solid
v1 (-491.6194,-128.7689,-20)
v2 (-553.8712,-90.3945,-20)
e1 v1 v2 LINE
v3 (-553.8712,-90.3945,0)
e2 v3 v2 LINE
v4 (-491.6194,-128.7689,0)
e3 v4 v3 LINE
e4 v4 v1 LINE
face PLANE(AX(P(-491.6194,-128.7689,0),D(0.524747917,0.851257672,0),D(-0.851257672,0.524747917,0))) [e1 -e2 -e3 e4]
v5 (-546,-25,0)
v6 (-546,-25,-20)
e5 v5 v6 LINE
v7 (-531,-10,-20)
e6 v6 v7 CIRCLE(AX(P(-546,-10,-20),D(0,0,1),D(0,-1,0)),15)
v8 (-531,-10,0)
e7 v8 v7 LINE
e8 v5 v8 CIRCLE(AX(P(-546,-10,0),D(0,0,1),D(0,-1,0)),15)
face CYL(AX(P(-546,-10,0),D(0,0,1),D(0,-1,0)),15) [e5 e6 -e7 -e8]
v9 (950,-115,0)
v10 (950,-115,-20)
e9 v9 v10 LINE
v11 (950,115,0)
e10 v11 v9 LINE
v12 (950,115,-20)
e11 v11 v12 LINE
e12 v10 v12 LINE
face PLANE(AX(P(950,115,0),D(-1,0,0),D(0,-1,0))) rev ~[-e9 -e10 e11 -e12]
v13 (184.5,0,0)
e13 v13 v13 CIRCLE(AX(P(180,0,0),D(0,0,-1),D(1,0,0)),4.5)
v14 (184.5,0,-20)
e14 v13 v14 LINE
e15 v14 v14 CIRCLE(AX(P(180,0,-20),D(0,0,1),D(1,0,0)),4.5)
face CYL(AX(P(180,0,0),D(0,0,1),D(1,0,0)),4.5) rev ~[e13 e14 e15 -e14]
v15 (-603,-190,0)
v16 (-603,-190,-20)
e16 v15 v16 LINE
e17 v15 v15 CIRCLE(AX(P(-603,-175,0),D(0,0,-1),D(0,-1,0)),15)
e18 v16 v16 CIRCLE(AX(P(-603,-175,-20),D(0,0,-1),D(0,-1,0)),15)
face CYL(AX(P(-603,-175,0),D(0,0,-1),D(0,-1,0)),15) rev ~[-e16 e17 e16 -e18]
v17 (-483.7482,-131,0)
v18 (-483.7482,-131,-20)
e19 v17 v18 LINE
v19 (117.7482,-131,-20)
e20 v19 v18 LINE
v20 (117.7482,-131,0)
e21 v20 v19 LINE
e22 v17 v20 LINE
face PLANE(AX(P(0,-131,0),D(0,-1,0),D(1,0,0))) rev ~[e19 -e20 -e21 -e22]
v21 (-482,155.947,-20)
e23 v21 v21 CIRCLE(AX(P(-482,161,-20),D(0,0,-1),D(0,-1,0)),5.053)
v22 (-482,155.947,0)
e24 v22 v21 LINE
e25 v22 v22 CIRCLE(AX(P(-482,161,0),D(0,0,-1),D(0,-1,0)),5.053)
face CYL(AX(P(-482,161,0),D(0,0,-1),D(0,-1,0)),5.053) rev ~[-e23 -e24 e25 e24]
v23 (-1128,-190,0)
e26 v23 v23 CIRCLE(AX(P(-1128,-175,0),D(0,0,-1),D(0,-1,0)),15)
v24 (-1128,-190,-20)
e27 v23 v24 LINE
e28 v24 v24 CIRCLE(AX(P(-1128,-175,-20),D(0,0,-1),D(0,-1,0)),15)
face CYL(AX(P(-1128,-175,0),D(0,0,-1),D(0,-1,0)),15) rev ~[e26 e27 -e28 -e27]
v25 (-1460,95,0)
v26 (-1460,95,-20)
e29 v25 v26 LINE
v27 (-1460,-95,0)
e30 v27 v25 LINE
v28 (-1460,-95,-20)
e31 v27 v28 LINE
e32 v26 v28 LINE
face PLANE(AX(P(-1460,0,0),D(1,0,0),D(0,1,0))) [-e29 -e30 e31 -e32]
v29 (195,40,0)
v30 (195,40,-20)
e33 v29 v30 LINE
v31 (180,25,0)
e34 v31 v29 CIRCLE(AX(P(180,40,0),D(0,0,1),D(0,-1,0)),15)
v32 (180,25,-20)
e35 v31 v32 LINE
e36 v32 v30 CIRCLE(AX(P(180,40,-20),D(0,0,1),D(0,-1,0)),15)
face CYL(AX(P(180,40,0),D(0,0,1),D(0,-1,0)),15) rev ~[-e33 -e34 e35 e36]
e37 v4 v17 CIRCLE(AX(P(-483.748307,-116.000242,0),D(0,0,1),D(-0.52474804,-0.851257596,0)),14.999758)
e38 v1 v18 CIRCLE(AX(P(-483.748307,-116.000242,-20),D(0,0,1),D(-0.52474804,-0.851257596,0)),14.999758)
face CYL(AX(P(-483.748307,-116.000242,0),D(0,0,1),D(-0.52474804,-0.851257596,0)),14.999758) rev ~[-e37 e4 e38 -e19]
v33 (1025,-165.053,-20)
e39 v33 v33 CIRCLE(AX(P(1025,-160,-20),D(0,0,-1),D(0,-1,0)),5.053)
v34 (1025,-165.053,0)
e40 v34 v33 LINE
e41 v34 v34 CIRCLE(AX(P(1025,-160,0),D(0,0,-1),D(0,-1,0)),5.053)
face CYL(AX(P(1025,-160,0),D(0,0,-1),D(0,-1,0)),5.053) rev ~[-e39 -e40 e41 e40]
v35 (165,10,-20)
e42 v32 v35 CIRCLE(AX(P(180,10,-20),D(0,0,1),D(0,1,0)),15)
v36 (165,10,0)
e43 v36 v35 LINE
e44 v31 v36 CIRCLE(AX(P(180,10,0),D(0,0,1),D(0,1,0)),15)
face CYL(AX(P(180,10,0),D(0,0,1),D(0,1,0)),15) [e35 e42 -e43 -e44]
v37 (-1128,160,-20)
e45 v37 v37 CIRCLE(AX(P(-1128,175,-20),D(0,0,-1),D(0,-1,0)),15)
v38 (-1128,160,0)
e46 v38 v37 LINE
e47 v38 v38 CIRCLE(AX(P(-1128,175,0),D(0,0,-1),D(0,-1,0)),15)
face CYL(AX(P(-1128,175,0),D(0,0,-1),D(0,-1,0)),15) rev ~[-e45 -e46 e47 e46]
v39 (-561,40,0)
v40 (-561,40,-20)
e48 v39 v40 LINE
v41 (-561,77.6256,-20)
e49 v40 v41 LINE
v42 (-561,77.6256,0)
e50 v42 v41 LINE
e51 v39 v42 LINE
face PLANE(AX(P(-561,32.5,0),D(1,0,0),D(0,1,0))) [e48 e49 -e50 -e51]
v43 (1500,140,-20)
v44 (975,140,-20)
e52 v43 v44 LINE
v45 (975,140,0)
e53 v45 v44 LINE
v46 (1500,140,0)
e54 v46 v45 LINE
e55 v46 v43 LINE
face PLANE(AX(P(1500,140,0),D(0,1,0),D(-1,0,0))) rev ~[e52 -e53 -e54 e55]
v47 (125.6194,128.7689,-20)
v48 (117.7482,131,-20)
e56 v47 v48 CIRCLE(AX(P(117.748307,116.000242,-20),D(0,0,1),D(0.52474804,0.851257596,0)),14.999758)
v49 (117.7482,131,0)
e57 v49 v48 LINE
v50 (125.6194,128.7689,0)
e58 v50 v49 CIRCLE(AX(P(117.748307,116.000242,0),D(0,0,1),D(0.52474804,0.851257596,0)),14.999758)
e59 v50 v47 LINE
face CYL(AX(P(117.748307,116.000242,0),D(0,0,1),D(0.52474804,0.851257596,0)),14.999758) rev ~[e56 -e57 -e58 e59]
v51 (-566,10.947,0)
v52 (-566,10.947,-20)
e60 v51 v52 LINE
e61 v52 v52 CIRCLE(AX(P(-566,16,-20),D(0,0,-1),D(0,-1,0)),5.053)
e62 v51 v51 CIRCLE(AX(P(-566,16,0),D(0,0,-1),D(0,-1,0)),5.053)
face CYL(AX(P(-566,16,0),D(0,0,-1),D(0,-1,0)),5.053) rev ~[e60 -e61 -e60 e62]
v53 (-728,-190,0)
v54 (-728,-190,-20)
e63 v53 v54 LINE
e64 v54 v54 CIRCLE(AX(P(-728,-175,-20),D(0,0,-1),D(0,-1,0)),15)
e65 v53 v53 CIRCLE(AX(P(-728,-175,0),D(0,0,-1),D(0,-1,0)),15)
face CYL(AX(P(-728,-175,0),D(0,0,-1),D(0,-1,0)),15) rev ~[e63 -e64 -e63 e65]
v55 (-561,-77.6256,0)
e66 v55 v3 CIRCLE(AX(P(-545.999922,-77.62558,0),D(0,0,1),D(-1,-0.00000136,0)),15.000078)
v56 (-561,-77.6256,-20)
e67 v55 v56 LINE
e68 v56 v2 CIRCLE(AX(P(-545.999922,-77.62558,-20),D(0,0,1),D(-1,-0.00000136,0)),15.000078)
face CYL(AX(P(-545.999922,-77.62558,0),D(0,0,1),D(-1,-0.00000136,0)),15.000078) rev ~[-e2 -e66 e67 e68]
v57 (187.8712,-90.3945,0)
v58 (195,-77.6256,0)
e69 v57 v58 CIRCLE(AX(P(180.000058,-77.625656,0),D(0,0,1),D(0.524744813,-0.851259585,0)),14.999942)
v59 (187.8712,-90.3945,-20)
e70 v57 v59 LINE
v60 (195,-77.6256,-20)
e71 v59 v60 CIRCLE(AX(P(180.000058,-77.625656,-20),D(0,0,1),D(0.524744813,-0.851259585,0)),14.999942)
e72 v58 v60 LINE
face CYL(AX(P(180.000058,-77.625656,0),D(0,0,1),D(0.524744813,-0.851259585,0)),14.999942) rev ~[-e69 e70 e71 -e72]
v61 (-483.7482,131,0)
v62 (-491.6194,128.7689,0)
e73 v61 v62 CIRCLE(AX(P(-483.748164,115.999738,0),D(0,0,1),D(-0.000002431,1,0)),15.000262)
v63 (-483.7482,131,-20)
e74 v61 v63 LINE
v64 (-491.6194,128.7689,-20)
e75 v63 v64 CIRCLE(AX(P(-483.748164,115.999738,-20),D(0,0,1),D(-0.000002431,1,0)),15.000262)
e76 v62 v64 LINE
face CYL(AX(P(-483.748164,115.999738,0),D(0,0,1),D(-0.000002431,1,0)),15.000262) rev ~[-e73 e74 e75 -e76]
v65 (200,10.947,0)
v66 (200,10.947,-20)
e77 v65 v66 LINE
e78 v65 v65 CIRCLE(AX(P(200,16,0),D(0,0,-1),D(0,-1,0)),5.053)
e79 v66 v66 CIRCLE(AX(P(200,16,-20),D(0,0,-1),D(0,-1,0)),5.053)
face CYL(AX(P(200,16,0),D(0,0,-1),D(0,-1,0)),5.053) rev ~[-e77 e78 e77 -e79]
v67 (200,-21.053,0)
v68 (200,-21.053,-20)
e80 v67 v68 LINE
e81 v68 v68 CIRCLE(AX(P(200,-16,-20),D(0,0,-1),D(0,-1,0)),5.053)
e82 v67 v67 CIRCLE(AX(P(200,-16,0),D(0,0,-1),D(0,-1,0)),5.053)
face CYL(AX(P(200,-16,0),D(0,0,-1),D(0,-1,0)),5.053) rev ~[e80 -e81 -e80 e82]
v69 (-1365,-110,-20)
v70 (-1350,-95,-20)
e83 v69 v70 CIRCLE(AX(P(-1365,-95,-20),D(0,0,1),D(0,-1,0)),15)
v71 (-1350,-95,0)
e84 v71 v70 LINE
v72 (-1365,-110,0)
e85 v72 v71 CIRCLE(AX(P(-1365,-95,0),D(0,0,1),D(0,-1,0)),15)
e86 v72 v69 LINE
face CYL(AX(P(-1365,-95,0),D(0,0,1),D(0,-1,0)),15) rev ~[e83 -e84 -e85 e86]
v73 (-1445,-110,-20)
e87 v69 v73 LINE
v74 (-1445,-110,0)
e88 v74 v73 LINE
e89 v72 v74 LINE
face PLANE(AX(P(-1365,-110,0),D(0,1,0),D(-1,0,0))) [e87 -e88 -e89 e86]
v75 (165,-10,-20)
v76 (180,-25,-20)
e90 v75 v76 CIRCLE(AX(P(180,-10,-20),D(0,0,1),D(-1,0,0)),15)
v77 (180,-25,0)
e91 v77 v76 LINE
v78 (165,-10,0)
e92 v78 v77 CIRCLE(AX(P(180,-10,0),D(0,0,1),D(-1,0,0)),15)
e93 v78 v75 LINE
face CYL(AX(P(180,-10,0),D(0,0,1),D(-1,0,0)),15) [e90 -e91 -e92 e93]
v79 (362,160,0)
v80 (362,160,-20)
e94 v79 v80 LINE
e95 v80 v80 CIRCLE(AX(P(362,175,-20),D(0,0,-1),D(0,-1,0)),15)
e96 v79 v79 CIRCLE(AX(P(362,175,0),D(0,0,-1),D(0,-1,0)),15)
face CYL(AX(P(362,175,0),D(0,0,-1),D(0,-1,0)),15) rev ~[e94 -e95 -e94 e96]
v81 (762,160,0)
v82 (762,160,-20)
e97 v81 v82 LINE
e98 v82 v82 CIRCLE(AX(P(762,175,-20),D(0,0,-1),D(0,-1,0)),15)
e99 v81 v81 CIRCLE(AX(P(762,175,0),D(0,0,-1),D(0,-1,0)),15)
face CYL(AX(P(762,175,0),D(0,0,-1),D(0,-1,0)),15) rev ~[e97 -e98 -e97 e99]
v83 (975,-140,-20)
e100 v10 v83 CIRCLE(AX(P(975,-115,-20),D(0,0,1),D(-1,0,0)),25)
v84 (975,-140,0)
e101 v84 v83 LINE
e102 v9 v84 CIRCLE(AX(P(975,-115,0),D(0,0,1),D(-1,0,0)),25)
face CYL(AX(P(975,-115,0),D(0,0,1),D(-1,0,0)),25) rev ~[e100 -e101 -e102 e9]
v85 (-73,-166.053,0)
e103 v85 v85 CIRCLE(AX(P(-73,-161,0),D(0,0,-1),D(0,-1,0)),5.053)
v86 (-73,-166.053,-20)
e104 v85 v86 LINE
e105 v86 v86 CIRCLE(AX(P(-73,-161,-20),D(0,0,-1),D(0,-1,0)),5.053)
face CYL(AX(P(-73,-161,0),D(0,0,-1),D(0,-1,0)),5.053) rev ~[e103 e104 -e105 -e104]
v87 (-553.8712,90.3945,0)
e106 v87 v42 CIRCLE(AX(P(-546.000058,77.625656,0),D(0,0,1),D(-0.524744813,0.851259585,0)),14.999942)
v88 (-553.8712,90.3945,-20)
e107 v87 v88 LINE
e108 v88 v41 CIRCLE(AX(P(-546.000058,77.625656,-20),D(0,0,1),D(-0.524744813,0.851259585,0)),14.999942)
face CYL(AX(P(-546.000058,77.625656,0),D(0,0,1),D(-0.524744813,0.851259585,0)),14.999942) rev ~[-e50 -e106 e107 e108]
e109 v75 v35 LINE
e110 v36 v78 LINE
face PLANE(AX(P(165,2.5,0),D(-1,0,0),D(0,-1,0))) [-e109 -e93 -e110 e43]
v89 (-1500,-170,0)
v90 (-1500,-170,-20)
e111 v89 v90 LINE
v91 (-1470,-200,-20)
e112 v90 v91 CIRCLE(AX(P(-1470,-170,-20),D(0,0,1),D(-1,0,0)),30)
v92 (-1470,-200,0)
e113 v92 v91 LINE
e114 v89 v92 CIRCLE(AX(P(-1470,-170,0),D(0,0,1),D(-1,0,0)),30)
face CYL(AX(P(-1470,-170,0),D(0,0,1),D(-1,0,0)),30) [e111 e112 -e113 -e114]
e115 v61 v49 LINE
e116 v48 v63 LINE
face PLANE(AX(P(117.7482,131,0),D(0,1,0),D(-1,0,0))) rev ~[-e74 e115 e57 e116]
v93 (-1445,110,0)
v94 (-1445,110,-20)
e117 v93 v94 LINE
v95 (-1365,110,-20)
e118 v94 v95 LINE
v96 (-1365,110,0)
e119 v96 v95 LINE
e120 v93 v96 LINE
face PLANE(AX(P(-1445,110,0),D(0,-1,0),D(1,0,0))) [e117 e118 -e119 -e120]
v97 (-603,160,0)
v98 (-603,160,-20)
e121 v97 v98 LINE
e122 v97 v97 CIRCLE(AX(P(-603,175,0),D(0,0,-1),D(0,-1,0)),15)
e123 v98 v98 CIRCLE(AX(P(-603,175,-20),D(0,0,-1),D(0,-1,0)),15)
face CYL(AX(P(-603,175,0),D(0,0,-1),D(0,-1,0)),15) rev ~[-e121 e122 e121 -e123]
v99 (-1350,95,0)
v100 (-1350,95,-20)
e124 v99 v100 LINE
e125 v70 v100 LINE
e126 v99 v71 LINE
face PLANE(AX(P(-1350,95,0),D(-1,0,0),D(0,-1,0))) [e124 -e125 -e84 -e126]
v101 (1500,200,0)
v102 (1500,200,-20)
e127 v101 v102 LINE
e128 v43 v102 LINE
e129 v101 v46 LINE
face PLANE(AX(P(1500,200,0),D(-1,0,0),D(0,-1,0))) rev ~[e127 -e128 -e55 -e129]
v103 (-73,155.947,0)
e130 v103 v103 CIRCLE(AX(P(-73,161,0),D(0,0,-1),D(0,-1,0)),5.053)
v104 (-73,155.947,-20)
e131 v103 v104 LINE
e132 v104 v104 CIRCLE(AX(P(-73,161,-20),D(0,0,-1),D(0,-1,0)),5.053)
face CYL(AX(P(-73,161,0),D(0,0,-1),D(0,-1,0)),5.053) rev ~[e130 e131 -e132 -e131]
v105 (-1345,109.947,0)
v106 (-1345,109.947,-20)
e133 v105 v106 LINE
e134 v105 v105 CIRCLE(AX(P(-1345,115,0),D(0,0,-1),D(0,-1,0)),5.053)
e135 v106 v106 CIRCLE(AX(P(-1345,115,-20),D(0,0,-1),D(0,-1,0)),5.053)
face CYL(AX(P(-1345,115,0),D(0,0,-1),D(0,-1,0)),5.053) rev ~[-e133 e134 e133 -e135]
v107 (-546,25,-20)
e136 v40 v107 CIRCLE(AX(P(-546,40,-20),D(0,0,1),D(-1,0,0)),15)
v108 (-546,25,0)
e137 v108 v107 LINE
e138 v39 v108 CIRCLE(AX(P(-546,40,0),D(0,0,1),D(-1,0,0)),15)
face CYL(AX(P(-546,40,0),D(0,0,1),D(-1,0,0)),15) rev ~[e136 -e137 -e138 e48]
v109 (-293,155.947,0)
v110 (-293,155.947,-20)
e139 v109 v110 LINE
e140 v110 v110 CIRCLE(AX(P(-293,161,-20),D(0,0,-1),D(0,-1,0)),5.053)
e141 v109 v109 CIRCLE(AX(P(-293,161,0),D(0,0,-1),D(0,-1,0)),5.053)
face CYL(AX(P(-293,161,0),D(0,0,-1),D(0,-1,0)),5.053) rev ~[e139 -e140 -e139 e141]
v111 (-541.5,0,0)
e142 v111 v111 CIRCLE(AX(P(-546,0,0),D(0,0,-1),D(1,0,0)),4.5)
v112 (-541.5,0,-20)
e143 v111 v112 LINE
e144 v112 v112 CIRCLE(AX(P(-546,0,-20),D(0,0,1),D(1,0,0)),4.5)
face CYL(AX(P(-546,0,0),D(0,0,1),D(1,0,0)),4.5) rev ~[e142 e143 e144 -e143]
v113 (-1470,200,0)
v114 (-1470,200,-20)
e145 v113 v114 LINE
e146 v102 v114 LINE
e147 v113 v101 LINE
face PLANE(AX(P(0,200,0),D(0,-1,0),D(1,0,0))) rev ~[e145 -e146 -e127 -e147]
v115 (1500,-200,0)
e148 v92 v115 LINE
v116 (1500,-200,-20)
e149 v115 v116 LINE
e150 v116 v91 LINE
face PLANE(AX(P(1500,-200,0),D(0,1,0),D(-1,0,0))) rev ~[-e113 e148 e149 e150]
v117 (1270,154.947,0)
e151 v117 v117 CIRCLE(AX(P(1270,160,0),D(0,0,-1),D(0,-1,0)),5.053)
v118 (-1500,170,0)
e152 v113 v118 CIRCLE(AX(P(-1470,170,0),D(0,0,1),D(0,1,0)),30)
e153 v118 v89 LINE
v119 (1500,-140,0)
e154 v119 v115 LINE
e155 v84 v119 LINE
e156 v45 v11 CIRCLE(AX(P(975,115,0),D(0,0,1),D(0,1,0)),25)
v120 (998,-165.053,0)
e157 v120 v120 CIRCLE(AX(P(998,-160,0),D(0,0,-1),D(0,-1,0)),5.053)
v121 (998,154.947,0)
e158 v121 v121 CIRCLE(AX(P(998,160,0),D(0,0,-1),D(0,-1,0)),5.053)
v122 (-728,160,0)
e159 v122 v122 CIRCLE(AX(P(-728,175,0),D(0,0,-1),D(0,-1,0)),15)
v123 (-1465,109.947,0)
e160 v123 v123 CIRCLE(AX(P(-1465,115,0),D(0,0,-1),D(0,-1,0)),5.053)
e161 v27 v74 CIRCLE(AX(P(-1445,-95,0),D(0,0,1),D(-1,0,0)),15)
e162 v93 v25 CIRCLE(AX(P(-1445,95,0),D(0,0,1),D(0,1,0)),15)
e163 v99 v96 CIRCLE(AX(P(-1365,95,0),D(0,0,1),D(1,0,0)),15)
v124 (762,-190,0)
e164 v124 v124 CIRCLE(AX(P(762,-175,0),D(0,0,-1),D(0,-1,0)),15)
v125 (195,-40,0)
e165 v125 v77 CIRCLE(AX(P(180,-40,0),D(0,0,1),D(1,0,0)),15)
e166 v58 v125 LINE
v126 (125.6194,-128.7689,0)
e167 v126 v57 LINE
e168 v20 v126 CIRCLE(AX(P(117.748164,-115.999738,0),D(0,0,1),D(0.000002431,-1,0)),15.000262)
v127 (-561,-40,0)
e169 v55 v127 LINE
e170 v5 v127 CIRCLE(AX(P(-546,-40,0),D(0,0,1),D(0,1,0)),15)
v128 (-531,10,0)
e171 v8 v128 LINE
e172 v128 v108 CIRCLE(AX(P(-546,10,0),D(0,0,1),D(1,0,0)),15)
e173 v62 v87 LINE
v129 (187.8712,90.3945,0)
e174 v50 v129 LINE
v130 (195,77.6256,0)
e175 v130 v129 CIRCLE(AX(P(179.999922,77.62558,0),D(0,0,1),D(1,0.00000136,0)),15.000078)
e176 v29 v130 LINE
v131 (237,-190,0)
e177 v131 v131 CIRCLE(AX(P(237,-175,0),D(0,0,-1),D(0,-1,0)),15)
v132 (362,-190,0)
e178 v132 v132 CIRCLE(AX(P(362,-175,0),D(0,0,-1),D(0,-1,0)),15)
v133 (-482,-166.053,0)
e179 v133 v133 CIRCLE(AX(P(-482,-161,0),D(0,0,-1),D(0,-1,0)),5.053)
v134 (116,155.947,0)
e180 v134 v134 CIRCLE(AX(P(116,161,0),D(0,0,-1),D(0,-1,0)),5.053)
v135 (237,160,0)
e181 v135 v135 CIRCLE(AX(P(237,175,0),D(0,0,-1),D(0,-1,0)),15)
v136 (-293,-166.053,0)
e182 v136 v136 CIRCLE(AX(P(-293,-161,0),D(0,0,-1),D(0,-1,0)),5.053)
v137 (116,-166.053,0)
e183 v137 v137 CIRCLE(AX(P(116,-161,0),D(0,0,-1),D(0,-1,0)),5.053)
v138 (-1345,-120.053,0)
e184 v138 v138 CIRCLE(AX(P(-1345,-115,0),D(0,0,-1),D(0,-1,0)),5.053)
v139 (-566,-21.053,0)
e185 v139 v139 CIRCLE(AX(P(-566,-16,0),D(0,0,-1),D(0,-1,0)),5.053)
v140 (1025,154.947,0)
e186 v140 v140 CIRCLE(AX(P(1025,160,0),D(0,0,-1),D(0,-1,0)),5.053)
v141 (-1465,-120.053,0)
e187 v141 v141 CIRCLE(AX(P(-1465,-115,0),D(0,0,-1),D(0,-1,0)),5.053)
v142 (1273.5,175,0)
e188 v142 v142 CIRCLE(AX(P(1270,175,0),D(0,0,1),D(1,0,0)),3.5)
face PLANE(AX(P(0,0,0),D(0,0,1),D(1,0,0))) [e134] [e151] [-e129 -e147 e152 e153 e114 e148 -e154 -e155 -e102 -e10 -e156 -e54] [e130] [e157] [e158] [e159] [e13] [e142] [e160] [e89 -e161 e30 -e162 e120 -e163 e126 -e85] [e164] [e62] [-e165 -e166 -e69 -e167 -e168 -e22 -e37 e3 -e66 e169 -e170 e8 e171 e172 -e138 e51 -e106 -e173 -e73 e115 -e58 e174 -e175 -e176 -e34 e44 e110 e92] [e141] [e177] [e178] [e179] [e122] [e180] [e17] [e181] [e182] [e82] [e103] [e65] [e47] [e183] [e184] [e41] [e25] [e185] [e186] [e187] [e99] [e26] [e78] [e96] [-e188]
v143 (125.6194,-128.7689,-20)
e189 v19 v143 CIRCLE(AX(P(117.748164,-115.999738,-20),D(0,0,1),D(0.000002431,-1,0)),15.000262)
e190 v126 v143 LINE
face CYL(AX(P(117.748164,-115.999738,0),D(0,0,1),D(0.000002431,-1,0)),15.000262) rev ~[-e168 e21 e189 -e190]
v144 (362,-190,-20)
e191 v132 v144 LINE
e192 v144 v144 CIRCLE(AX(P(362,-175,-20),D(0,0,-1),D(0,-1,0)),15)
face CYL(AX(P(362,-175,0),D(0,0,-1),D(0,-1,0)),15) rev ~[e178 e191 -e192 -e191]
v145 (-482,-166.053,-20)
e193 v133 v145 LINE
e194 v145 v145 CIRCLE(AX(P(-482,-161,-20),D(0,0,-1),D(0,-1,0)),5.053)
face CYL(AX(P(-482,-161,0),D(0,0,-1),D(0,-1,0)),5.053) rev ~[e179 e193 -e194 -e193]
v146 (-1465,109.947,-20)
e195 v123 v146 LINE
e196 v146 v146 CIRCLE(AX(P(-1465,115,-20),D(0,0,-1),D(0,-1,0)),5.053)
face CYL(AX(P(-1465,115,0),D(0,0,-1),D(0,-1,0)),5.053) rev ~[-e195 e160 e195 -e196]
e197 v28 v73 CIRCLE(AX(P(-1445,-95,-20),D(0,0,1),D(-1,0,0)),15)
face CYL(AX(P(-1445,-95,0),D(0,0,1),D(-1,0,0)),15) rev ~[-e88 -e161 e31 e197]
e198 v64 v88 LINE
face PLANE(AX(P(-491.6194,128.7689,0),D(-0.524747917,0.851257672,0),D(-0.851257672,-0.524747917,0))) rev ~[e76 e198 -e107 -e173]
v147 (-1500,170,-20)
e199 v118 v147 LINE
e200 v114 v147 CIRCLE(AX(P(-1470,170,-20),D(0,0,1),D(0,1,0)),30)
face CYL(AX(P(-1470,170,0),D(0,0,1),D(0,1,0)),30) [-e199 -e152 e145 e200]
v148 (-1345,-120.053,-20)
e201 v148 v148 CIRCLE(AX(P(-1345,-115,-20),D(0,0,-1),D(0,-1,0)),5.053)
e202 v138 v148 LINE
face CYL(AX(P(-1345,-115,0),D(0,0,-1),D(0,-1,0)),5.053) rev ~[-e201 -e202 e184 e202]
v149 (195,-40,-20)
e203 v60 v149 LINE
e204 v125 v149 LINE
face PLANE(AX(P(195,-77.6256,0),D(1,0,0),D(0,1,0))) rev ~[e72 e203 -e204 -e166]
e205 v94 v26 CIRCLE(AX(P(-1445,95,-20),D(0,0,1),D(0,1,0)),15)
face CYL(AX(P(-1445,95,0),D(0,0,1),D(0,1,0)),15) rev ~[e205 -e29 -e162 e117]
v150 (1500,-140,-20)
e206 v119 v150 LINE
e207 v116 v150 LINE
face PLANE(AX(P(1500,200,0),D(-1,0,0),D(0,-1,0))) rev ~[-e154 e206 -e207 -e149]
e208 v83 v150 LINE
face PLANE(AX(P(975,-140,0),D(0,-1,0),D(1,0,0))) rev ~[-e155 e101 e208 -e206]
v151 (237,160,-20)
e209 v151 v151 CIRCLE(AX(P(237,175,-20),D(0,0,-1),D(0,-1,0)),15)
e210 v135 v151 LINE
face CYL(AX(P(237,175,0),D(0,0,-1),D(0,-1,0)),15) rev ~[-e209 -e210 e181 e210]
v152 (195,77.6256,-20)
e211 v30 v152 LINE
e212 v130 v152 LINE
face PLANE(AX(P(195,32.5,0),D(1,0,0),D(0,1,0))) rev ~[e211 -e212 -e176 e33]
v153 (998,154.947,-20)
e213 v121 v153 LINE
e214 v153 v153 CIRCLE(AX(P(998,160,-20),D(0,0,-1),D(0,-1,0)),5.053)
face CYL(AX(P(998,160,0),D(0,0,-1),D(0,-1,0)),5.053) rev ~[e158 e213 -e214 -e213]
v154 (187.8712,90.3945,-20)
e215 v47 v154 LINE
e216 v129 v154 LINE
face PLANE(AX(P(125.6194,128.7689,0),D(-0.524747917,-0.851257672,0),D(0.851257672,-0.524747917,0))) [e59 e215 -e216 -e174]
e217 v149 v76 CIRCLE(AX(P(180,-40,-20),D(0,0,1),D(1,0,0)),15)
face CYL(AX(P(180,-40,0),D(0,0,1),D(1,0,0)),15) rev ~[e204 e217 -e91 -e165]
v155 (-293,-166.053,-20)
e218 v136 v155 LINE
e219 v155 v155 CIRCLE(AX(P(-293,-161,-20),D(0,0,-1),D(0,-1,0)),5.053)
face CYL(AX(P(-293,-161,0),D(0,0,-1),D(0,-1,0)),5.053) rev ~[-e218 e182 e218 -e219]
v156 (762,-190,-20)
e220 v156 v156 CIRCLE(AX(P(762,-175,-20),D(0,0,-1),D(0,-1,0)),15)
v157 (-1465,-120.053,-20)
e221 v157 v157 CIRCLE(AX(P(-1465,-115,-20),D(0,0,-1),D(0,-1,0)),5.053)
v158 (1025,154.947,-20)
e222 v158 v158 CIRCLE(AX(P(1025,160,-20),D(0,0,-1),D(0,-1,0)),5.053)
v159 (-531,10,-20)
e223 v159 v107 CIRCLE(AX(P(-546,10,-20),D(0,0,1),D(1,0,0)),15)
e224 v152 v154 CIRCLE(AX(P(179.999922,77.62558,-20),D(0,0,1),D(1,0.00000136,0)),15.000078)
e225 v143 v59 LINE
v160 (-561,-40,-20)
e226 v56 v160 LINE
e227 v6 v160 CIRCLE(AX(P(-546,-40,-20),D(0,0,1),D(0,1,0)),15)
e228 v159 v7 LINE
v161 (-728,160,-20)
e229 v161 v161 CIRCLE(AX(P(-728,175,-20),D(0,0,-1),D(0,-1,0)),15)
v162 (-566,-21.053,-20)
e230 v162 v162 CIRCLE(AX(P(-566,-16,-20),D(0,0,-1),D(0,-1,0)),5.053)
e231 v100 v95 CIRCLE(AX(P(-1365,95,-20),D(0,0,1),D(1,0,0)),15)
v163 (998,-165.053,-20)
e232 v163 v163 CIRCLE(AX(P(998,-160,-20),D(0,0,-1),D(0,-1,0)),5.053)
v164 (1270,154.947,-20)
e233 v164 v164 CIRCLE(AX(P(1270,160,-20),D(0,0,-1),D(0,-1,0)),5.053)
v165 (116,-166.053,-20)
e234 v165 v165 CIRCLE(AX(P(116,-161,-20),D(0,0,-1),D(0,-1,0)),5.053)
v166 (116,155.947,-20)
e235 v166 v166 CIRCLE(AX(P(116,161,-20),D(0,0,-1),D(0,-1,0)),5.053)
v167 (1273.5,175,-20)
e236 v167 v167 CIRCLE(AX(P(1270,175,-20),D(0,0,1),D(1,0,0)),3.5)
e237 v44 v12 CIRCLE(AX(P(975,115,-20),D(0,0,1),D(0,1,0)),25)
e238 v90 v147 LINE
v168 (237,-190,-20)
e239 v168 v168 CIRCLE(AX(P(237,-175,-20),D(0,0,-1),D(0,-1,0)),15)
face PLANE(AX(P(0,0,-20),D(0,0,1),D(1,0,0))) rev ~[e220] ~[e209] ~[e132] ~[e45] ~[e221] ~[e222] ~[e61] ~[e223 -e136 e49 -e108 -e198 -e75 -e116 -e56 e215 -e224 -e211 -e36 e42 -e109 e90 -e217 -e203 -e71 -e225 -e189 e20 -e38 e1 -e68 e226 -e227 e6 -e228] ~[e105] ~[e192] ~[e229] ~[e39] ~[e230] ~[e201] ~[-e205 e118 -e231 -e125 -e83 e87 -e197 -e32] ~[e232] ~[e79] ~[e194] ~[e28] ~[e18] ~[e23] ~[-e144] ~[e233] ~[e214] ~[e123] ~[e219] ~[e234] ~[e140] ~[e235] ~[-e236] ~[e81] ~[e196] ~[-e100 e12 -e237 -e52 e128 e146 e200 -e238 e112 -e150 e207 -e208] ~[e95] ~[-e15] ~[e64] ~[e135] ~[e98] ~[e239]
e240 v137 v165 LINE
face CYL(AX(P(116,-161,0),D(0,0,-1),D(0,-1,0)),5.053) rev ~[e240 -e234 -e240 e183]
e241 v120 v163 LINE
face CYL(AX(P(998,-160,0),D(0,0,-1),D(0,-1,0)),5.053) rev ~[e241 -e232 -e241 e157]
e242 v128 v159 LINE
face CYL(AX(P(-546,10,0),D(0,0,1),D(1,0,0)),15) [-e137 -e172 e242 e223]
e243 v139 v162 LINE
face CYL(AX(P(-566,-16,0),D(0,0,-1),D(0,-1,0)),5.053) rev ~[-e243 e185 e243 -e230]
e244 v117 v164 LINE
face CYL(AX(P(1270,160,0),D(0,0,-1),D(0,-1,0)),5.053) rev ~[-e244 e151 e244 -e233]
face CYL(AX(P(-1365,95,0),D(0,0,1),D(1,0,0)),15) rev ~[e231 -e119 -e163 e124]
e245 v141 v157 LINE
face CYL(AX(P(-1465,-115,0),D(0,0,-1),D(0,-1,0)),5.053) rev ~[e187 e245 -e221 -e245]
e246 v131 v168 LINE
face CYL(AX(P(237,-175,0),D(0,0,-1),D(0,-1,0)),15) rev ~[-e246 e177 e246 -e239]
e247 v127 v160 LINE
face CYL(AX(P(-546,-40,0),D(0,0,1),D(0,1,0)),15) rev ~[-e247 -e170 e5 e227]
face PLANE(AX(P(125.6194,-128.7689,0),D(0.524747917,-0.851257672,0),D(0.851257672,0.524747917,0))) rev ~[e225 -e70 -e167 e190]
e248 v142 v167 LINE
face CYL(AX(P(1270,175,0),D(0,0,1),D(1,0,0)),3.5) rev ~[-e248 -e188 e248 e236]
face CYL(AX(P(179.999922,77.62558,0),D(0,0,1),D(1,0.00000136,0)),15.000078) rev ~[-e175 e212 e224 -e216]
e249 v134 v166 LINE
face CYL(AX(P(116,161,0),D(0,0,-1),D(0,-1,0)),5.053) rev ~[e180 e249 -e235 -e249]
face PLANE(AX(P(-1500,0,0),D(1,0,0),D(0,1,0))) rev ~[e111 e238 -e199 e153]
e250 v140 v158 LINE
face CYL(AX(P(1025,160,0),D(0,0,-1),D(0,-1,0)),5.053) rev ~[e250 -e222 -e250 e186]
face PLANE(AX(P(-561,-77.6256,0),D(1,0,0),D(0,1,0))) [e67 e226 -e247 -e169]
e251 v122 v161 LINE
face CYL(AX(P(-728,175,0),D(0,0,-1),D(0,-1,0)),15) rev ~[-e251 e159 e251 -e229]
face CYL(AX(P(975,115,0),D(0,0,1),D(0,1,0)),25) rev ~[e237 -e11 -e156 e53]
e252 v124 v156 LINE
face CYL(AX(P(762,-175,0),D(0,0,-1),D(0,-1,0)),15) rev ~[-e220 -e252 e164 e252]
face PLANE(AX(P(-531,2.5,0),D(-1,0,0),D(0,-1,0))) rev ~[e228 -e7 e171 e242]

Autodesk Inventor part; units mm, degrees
ref_plane "YZ Plane" through (0, 0, 0) normal (1, 0, 0) x (0, 1, 0)
ref_plane "XZ Plane" through (0, 0, 0) normal (0, 1, 0) x (-1, 0, 0)
ref_plane "XY Plane" through (0, 0, 0) normal (0, 0, 1) x (1, 0, 0)
sketch "Sketch1" plane through (0, 0, 0) normal (0, 0, 1) x (1, 0, 0)
  line L0 (0, 288.6985) -> (0, -288.6985) projected
  line L1 (-2107.4558, 0) -> (2101.2426, 0) projected
  line L2 (-1470, 200) -> (1500, 200)
  line L3 (1500, 200) -> (1500, -200)
  line L4 (1500, -200) -> (-1470, -200)
  line L5 (-1500, -170) -> (-1500, 170)
  arc A0 (-1470, 200) -> (-1500, 170) centre (-1470, 170) ccw
  arc A1 (-1500, -170) -> (-1470, -200) centre (-1470, -170) ccw
  line L6 (-1445, 110) -> (-1365, 110)
  line L7 (-1350, 95) -> (-1350, -95)
  line L8 (-1365, -110) -> (-1445, -110)
  line L9 (-1460, -95) -> (-1460, 95)
  arc A2 (-1445, 110) -> (-1460, 95) centre (-1445, 95) ccw
  arc A3 (-1350, 95) -> (-1365, 110) centre (-1365, 95) ccw
  arc A4 (-1365, -110) -> (-1350, -95) centre (-1365, -95) ccw
  arc A5 (-1460, -95) -> (-1445, -110) centre (-1445, -95) ccw
  point P0 (0, 0)
  point P1 (-1500, 200)
  point P2 (-1500, -200)
  point P3 (-1465, 115)
  point P4 (-1345, 115)
  point P5 (-1345, -115)
  point P6 (-1465, -115)
  dimension "d0" = 400
  dimension "d1" = 3000
  dimension "d2" = 30
  dimension "d3" = 110
  dimension "d4" = 220
  dimension "d5" = 15
  dimension "d8" = 230
  dimension "d9" = 120
  dimension "d10" = 5
  dimension "d11" = 5
  dimension "d12" = 40
extrude "Extrusion1" add sketch "Sketch1" against normal blind 20 contours L2 L3 L1 L0 | L0 L1 L7 A3 L6 A2 L9 L5 A0 L2 | L1 L3 L4 L0 | L0 L4 A1 L5 L1 L9 A5 L8 A4 L7
hole "Hole1" at (-1465, 115, 0) at (-1345, 115, 0) at (-1345, -115, 0) at (-1465, -115, 0) direction (0, 0, -1) diameter 10.106 end through all thread size "M12x1.75" class "6H" standard "ISO Metric profile"
sketch "Sketch2" plane through (0, 0, 0) normal (0, 0, 1) x (1, 0, 0)
  circle A0 centre (-1345, -115) radius 5.053 projected
  circle A1 centre (-1465, 115) radius 5.053 projected
  circle A2 centre (-1345, 115) radius 5.053 projected
  circle A3 centre (-1465, -115) radius 5.053 projected
  line L0 (-1500, 170) -> (-1500, -170) projected
  arc A4 (-1500, -170) -> (-1470, -200) centre (-1470, -170) ccw projected
  line L1 (-1470, -200) -> (1500, -200) projected
  line L2 (1500, -200) -> (1500, 200) projected
  line L3 (1500, 200) -> (-1470, 200) projected
  arc A5 (-1470, 200) -> (-1500, 170) centre (-1470, 170) ccw projected
  arc A6 (-1460, -95) -> (-1445, -110) centre (-1445, -95) ccw projected
  line L4 (-1460, -95) -> (-1460, 95) projected
  arc A7 (-1445, 110) -> (-1460, 95) centre (-1445, 95) ccw projected
  line L5 (-1445, 110) -> (-1365, 110) projected
  arc A8 (-1350, 95) -> (-1365, 110) centre (-1365, 95) ccw projected
  line L6 (-1350, 95) -> (-1350, -95) projected
  arc A9 (-1365, -110) -> (-1350, -95) centre (-1365, -95) ccw projected
  line L7 (-1365, -110) -> (-1445, -110) projected
  line L8 (1500, 140) -> (975, 140)
  line L9 (950, 115) -> (950, -115)
  line L10 (975, -140) -> (1500, -140)
  line L11 (1500, -140) -> (1500, 140)
  line L12 (0, 288.6985) -> (0, -288.6985) projected
  line L13 (-2107.4558, 0) -> (2101.2426, 0) projected
  arc A10 (975, 140) -> (950, 115) centre (975, 115) ccw
  arc A11 (950, -115) -> (975, -140) centre (975, -115) ccw
  circle A12 centre (1270, 175) radius 3.5
  point P0 (0, 0)
  point P1 (998, 160)
  point P2 (1025, 160)
  point P3 (998, -160)
  point P4 (1025, -160)
  point P5 (1270, 160)
  dimension "d22" = 550
  dimension "d23" = 280
  dimension "d24" = 25
  dimension "d25" = 7
  dimension "d26" = 230
  dimension "d27" = 320
  dimension "d28" = 27
  dimension "d29" = 475
  dimension "d30" = 230
  dimension "d31" = 15
extrude "Extrusion2" cut sketch "Sketch2" against normal blind 20 contours L2 L13 L9 A10 L8 | L13 L2 L10 A11 L9 | A12
hole "Hole2" at (998, 160, 0) at (1025, 160, 0) at (998, -160, 0) at (1025, -160, 0) at (1270, 160, 0) direction (0, 0, -1) diameter 10.106 end through all thread size "M12x1.75" class "6H" standard "ISO Metric profile"
sketch "Sketch3" plane through (0, 0, 0) normal (0, 0, 1) x (1, 0, 0)
  line L0 (0, 1076.2642) -> (0, -784.2642) projected
  line L1 (-2100, 0) -> (2100, 0) projected
  line L2 (1500, -200) -> (1500, -140) projected
  line L3 (-1470, -200) -> (1500, -200) projected
  arc A0 (-491.6194, -128.7689) -> (-483.7482, -131) centre (-483.7482, -116) ccw
  line L4 (-491.6194, 128.7689) -> (-553.8712, 90.3945)
  arc A1 (-483.7482, 131) -> (-491.6194, 128.7689) centre (-483.7482, 116) ccw
  line L5 (-483.7482, 131) -> (-183, 131)
  arc A2 (-531, 2.5) -> (-546, 17.5) centre (-546, 2.5) ccw
  line L6 (-561, 32.5) -> (-561, 77.6256)
  arc A3 (-546, -17.5) -> (-561, -32.5) centre (-546, -32.5) ccw
  arc A4 (-553.8712, 90.3945) -> (-561, 77.6256) centre (-546, 77.6256) ccw
  line L7 (-561, -77.6256) -> (-561, -32.5)
  line L8 (-491.6194, -128.7689) -> (-553.8712, -90.3945)
  line L9 (-546, 17.5) -> (-546, 17.5)
  arc A5 (-561, 32.5) -> (-546, 17.5) centre (-546, 32.5) ccw
  line L10 (-183, -131) -> (-483.7482, -131)
  line L11 (-531, 2.5) -> (-531, -2.5)
  line L12 (-546, -17.5) -> (-546, -17.5)
  arc A6 (-546, -17.5) -> (-531, -2.5) centre (-546, -2.5) ccw
  line L13 (180, -17.5) -> (180, -17.5)
  arc A7 (165, -2.5) -> (180, -17.5) centre (180, -2.5) ccw
  circle A8 centre (-546, 0) radius 4.5
  arc A9 (-561, -77.6256) -> (-553.8712, -90.3945) centre (-546, -77.6256) ccw
  line L14 (-183, -131) -> (117.7482, -131)
  line L15 (117.7482, 131) -> (-183, 131)
  arc A10 (117.7482, -131) -> (125.6194, -128.7689) centre (117.7482, -116) ccw
  arc A11 (125.6194, 128.7689) -> (117.7482, 131) centre (117.7482, 116) ccw
  line L16 (165, 2.5) -> (165, -2.5)
  line L17 (180, 17.5) -> (180, 17.5)
  arc A12 (180, 17.5) -> (165, 2.5) centre (180, 2.5) ccw
  circle A13 centre (180, 0) radius 4.5
  arc A14 (187.8712, -90.3945) -> (195, -77.6256) centre (180, -77.6256) ccw
  arc A15 (195, -32.5) -> (180, -17.5) centre (180, -32.5) ccw
  arc A16 (180, 17.5) -> (195, 32.5) centre (180, 32.5) ccw
  line L18 (125.6194, 128.7689) -> (187.8712, 90.3945)
  arc A17 (195, 77.6256) -> (187.8712, 90.3945) centre (180, 77.6256) ccw
  line L19 (195, -77.6256) -> (195, -32.5)
  line L20 (125.6194, -128.7689) -> (187.8712, -90.3945)
  line L21 (195, 32.5) -> (195, 77.6256)
  line L22 (-183, 131) -> (-183, -131)
  point P0 (-620.9638, -518.4744)
  point P1 (-488, 131)
  point P2 (-561, 86)
  point P3 (-488, -131)
  point P4 (-561, -86)
  point P5 (122, 131)
  point P6 (195, -86)
  point P7 (195, 86)
  point P8 (122, -131)
  point P9 (200, -16)
  point P10 (200, 16)
  point P11 (-566, -16)
  point P12 (-566, 16)
  point P13 (-293, 810.4744)
  point P14 (-482, 810.4744)
  point P15 (-293, 161)
  point P16 (-482, 161)
  point P17 (-293, -161)
  point P18 (-482, -161)
  point P19 (-73, 161)
  point P20 (116, 161)
  point P21 (116, -161)
  point P22 (-73, -161)
  dimension "d76" = 262
  dimension "d77" = 35
  dimension "d78" = 15
  dimension "d79" = 32
  dimension "d80" = 189
  dimension "d81" = 9
  dimension "d82" = 20
  dimension "d83" = 1305
  dimension "d86" = 756
  dimension "d87" = 195
  dimension "d88" = 183
  dimension "d89" = 110
  dimension "d90" = 189
  dimension "d91" = 161
extrude "Extrusion3" cut sketch "Sketch3" against normal blind 20
hole "Hole4" at (-482, 810.4744, 0) at (-293, 810.4744, 0) at (-566, 16, 0) at (-566, -16, 0) at (200, 16, 0) at (200, -16, 0) at (-293, 161, 0) at (-482, 161, 0) at (-482, -161, 0) at (-293, -161, 0) at (116, 161, 0) at (-73, 161, 0) at (116, -161, 0) at (-73, -161, 0) direction (0, 0, -1) diameter 10.106 end through all thread size "M12x1.75" class "6H" standard "ISO Metric profile"
sketch "Sketch4" plane through (0, 0, 0) normal (0, 0, 1) x (1, 0, 0)
  circle A0 centre (116, -161) radius 5.053 projected
  circle A1 centre (116, 161) radius 5.053 projected
  circle A2 centre (-482, -161) radius 5.053 projected
  circle A3 centre (-293, 161) radius 5.053 projected
  circle A4 centre (200, 16) radius 5.053 projected
  circle A5 centre (-566, 16) radius 5.053 projected
  circle A6 centre (-566, -16) radius 5.053 projected
  circle A7 centre (200, -16) radius 5.053 projected
  circle A8 centre (-482, 161) radius 5.053 projected
  circle A9 centre (-293, -161) radius 5.053 projected
  circle A10 centre (-73, 161) radius 5.053 projected
  circle A11 centre (-73, -161) radius 5.053 projected
  circle A12 centre (180, 0) radius 4.5 projected
  circle A13 centre (-546, 0) radius 4.5 projected
  arc A14 (-553.8712, 90.3945) -> (-561, 77.6256) centre (-546, 77.6256) ccw projected
  line L0 (-553.8712, 90.3945) -> (-491.6194, 128.7689) projected
  arc A15 (-483.7482, 131) -> (-491.6194, 128.7689) centre (-483.7482, 116) ccw projected
  line L1 (-483.7482, 131) -> (117.7482, 131) projected
  arc A16 (125.6194, 128.7689) -> (117.7482, 131) centre (117.7482, 116) ccw projected
  line L2 (125.6194, 128.7689) -> (187.8712, 90.3945) projected
  arc A17 (195, 77.6256) -> (187.8712, 90.3945) centre (180, 77.6256) ccw projected
  line L3 (195, 77.6256) -> (195, 32.5) projected
  arc A18 (180, 17.5) -> (195, 32.5) centre (180, 32.5) ccw projected
  arc A19 (180, 17.5) -> (165, 2.5) centre (180, 2.5) ccw projected
  line L4 (165, 2.5) -> (165, -2.5) projected
  arc A20 (165, -2.5) -> (180, -17.5) centre (180, -2.5) ccw projected
  arc A21 (195, -32.5) -> (180, -17.5) centre (180, -32.5) ccw projected
  line L5 (195, -32.5) -> (195, -77.6256) projected
  arc A22 (187.8712, -90.3945) -> (195, -77.6256) centre (180, -77.6256) ccw projected
  line L6 (187.8712, -90.3945) -> (125.6194, -128.7689) projected
  arc A23 (117.7482, -131) -> (125.6194, -128.7689) centre (117.7482, -116) ccw projected
  line L7 (117.7482, -131) -> (-483.7482, -131) projected
  arc A24 (-491.6194, -128.7689) -> (-483.7482, -131) centre (-483.7482, -116) ccw projected
  line L8 (-491.6194, -128.7689) -> (-553.8712, -90.3945) projected
  arc A25 (-561, -77.6256) -> (-553.8712, -90.3945) centre (-546, -77.6256) ccw projected
  line L9 (-561, -77.6256) -> (-561, -32.5) projected
  arc A26 (-546, -17.5) -> (-561, -32.5) centre (-546, -32.5) ccw projected
  arc A27 (-546, -17.5) -> (-531, -2.5) centre (-546, -2.5) ccw projected
  line L10 (-531, -2.5) -> (-531, 2.5) projected
  arc A28 (-531, 2.5) -> (-546, 17.5) centre (-546, 2.5) ccw projected
  arc A29 (-561, 32.5) -> (-546, 17.5) centre (-546, 32.5) ccw projected
  line L11 (-561, 32.5) -> (-561, 77.6256) projected
  circle A30 centre (1025, -160) radius 5.053 projected
  circle A31 centre (1025, 160) radius 5.053 projected
  circle A32 centre (998, 160) radius 5.053 projected
  circle A33 centre (998, -160) radius 5.053 projected
  circle A34 centre (1270, 160) radius 5.053 projected
  line L12 (975, 140) -> (1500, 140) projected
  line L13 (1500, 140) -> (1500, 200) projected
  line L14 (1500, 200) -> (-1470, 200) projected
  arc A35 (-1470, 200) -> (-1500, 170) centre (-1470, 170) ccw projected
  line L15 (-1500, 170) -> (-1500, -170) projected
  arc A36 (-1500, -170) -> (-1470, -200) centre (-1470, -170) ccw projected
  line L16 (-1470, -200) -> (1500, -200) projected
  line L17 (1500, -200) -> (1500, -140) projected
  line L18 (1500, -140) -> (975, -140) projected
  arc A37 (950, -115) -> (975, -140) centre (975, -115) ccw projected
  line L19 (950, -115) -> (950, 115) projected
  arc A38 (975, 140) -> (950, 115) centre (975, 115) ccw projected
  circle A39 centre (1270, 175) radius 3.5 projected
  circle A40 centre (-1345, -115) radius 5.053 projected
  circle A41 centre (-1465, 115) radius 5.053 projected
  circle A42 centre (-1345, 115) radius 5.053 projected
  circle A43 centre (-1465, -115) radius 5.053 projected
  arc A44 (-1460, -95) -> (-1445, -110) centre (-1445, -95) ccw projected
  line L20 (-1460, -95) -> (-1460, 95) projected
  arc A45 (-1445, 110) -> (-1460, 95) centre (-1445, 95) ccw projected
  line L21 (-1445, 110) -> (-1365, 110) projected
  arc A46 (-1350, 95) -> (-1365, 110) centre (-1365, 95) ccw projected
  line L22 (-1350, 95) -> (-1350, -95) projected
  arc A47 (-1365, -110) -> (-1350, -95) centre (-1365, -95) ccw projected
  line L23 (-1365, -110) -> (-1445, -110) projected
  line L24 (117.7482, 131) -> (-483.7482, 131) projected
  line L25 (-183, 131) -> (-183, -131)
  line L26 (0, 288.6985) -> (0, -288.6985) projected
  line L27 (-2107.4558, 0) -> (2101.2426, 0) projected
  point P0 (0, 0)
  point P1 (-603, 175)
  point P2 (-728, 175)
  point P3 (-1128, 175)
  point P4 (-603, -175)
  point P5 (-728, -175)
  point P6 (-1128, -175)
  point P7 (237, 175)
  point P8 (362, 175)
  point P9 (762, 175)
  point P10 (762, -175)
  point P11 (362, -175)
  point P12 (237, -175)
  dimension "d99" = 420
  dimension "d100" = 545
  dimension "d101" = 400
  dimension "d109" = 175
hole "Hole5" at (-603, 175, 0) at (-728, 175, 0) at (-1128, 175, 0) at (-1128, -175, 0) at (-728, -175, 0) at (-603, -175, 0) at (237, -175, 0) at (362, -175, 0) at (762, -175, 0) at (762, 175, 0) at (362, 175, 0) at (237, 175, 0) direction (0, 0, -1) diameter 30 end through all
sketch "Sketch5" plane through (0, 0, 0) normal (0, 0, 1) x (1, 0, 0)
  circle A0 centre (362, 175) radius 15 projected
  circle A1 centre (762, -175) radius 15 projected
  circle A2 centre (237, -175) radius 15 projected
  circle A3 centre (-728, -175) radius 15 projected
  circle A4 centre (-1128, 175) radius 15 projected
  circle A5 centre (-603, 175) radius 15 projected
  circle A6 centre (-728, 175) radius 15 projected
  circle A7 centre (-1128, -175) radius 15 projected
  circle A8 centre (-603, -175) radius 15 projected
  circle A9 centre (362, -175) radius 15 projected
  circle A10 centre (762, 175) radius 15 projected
  circle A11 centre (237, 175) radius 15 projected
  circle A12 centre (116, -161) radius 5.053 projected
  circle A13 centre (116, 161) radius 5.053 projected
  circle A14 centre (-482, -161) radius 5.053 projected
  circle A15 centre (-293, 161) radius 5.053 projected
  circle A16 centre (200, 16) radius 5.053 projected
  circle A17 centre (-566, 16) radius 5.053 projected
  circle A18 centre (-566, -16) radius 5.053 projected
  circle A19 centre (200, -16) radius 5.053 projected
  circle A20 centre (-482, 161) radius 5.053 projected
  circle A21 centre (-293, -161) radius 5.053 projected
  circle A22 centre (-73, 161) radius 5.053 projected
  circle A23 centre (-73, -161) radius 5.053 projected
  circle A24 centre (180, 0) radius 4.5 projected
  circle A25 centre (-546, 0) radius 4.5 projected
  arc A26 (-553.8712, 90.3945) -> (-561, 77.6256) centre (-546, 77.6256) ccw projected
  line L0 (-553.8712, 90.3945) -> (-491.6194, 128.7689) projected
  arc A27 (-483.7482, 131) -> (-491.6194, 128.7689) centre (-483.7482, 116) ccw projected
  line L1 (-483.7482, 131) -> (117.7482, 131) projected
  arc A28 (125.6194, 128.7689) -> (117.7482, 131) centre (117.7482, 116) ccw projected
  line L2 (125.6194, 128.7689) -> (187.8712, 90.3945) projected
  arc A29 (195, 77.6256) -> (187.8712, 90.3945) centre (180, 77.6256) ccw projected
  line L3 (195, 77.6256) -> (195, 32.5) projected
  arc A30 (180, 17.5) -> (195, 32.5) centre (180, 32.5) ccw projected
  arc A31 (180, 17.5) -> (165, 2.5) centre (180, 2.5) ccw projected
  line L4 (165, 2.5) -> (165, -2.5) projected
  arc A32 (165, -2.5) -> (180, -17.5) centre (180, -2.5) ccw projected
  arc A33 (195, -32.5) -> (180, -17.5) centre (180, -32.5) ccw projected
  line L5 (195, -32.5) -> (195, -77.6256) projected
  arc A34 (187.8712, -90.3945) -> (195, -77.6256) centre (180, -77.6256) ccw projected
  line L6 (187.8712, -90.3945) -> (125.6194, -128.7689) projected
  arc A35 (117.7482, -131) -> (125.6194, -128.7689) centre (117.7482, -116) ccw projected
  line L7 (117.7482, -131) -> (-483.7482, -131) projected
  arc A36 (-491.6194, -128.7689) -> (-483.7482, -131) centre (-483.7482, -116) ccw projected
  line L8 (-491.6194, -128.7689) -> (-553.8712, -90.3945) projected
  arc A37 (-561, -77.6256) -> (-553.8712, -90.3945) centre (-546, -77.6256) ccw projected
  line L9 (-561, -77.6256) -> (-561, -32.5) projected
  arc A38 (-546, -17.5) -> (-561, -32.5) centre (-546, -32.5) ccw projected
  arc A39 (-546, -17.5) -> (-531, -2.5) centre (-546, -2.5) ccw projected
  line L10 (-531, -2.5) -> (-531, 2.5) projected
  arc A40 (-531, 2.5) -> (-546, 17.5) centre (-546, 2.5) ccw projected
  arc A41 (-561, 32.5) -> (-546, 17.5) centre (-546, 32.5) ccw projected
  line L11 (-561, 32.5) -> (-561, 77.6256) projected
  circle A42 centre (1025, -160) radius 5.053 projected
  circle A43 centre (1025, 160) radius 5.053 projected
  circle A44 centre (998, 160) radius 5.053 projected
  circle A45 centre (998, -160) radius 5.053 projected
  circle A46 centre (1270, 160) radius 5.053 projected
  line L12 (975, 140) -> (1500, 140) projected
  line L13 (1500, 140) -> (1500, 200) projected
  line L14 (1500, 200) -> (-1470, 200) projected
  arc A47 (-1470, 200) -> (-1500, 170) centre (-1470, 170) ccw projected
  line L15 (-1500, 170) -> (-1500, -170) projected
  arc A48 (-1500, -170) -> (-1470, -200) centre (-1470, -170) ccw projected
  line L16 (-1470, -200) -> (1500, -200) projected
  line L17 (1500, -200) -> (1500, -140) projected
  line L18 (1500, -140) -> (975, -140) projected
  arc A49 (950, -115) -> (975, -140) centre (975, -115) ccw projected
  line L19 (950, -115) -> (950, 115) projected
  arc A50 (975, 140) -> (950, 115) centre (975, 115) ccw projected
  circle A51 centre (1270, 175) radius 3.5 projected
  circle A52 centre (-1345, -115) radius 5.053 projected
  circle A53 centre (-1465, 115) radius 5.053 projected
  circle A54 centre (-1345, 115) radius 5.053 projected
  circle A55 centre (-1465, -115) radius 5.053 projected
  arc A56 (-1460, -95) -> (-1445, -110) centre (-1445, -95) ccw projected
  line L20 (-1460, -95) -> (-1460, 95) projected
  arc A57 (-1445, 110) -> (-1460, 95) centre (-1445, 95) ccw projected
  line L21 (-1445, 110) -> (-1365, 110) projected
  arc A58 (-1350, 95) -> (-1365, 110) centre (-1365, 95) ccw projected
  line L22 (-1350, 95) -> (-1350, -95) projected
  arc A59 (-1365, -110) -> (-1350, -95) centre (-1365, -95) ccw projected
  line L23 (-1365, -110) -> (-1445, -110) projected
  arc A60 (-561, 32.5) -> (-546, 17.5) centre (-546, 32.5) ccw
  arc A61 (-531, 2.5) -> (-546, 17.5) centre (-546, 2.5) ccw
  line L24 (-531, 2.5) -> (-531, -2.5) projected
  line L25 (-531, 2.5) -> (-531, 0)
  line L26 (-531, 0) -> (-511.8898, 0)
  line L27 (-483.7482, 131) -> (117.7482, 131) projected
  arc A62 (-561, 40) -> (-546, 25) centre (-546, 40) ccw
  arc A63 (-531, 10) -> (-546, 25) centre (-546, 10) ccw
  line L28 (-531, 10) -> (-531, 2.5)
  line L29 (-561, 32.5) -> (-561, 40)
  line L30 (-561, 32.5) -> (-561, 77.6256) projected
  line L31 (-531, 2.5) -> (-531, -2.5)
  arc A64 (-546, -17.5) -> (-531, -2.5) centre (-546, -2.5) ccw
  arc A65 (-546, -17.5) -> (-561, -32.5) centre (-546, -32.5) ccw
  line L32 (-531, -2.5) -> (-531, 2.5)
  line L33 (-531, -2.5) -> (-531, 0)
  arc A66 (-546, -25) -> (-561, -40) centre (-546, -40) ccw
  arc A67 (-546, -25) -> (-531, -10) centre (-546, -10) ccw
  line L34 (-531, -10) -> (-531, -2.5)
  line L35 (-561, -32.5) -> (-561, -40)
  line L36 (165, 2.5) -> (165, -2.5) projected
  arc A68 (180, 17.5) -> (195, 32.5) centre (180, 32.5) ccw
  line L37 (165, 2.5) -> (165, 10)
  arc A69 (180, 25) -> (165, 10) centre (180, 10) ccw
  arc A70 (180, 25) -> (195, 40) centre (180, 40) ccw
  line L38 (195, 77.6256) -> (195, 32.5) projected
  line L39 (195, 40) -> (195, 32.5)
  arc A71 (195, -32.5) -> (180, -17.5) centre (180, -32.5) ccw
  arc A72 (195, -32.5) -> (180, -17.5) centre (180, -32.5) ccw
  line L40 (165, -2.5) -> (165, -10)
  arc A73 (165, -10) -> (180, -25) centre (180, -10) ccw
  arc A74 (195, -40) -> (180, -25) centre (180, -40) ccw
  line L41 (195, -40) -> (195, -32.5)
  arc A75 (180, 17.5) -> (165, 2.5) centre (180, 2.5) ccw
  arc A76 (165, -2.5) -> (180, -17.5) centre (180, -2.5) ccw
  point P0 (0, 0)
  point P1 (-531, -2.5)
  point P2 (200, -16)
  point P3 (165, 2.5)
extrude "Extrusion4" add sketch "Sketch5" against normal blind 20 contours A62 A63 L28 A40 A41 L11 | L34 A67 A66 L9 A38 A39 | L3 A30 A31 L37 A69 A70 | A32 A33 L5 A74 A73 L40
properties part number "SlipersLåda 211018006"
